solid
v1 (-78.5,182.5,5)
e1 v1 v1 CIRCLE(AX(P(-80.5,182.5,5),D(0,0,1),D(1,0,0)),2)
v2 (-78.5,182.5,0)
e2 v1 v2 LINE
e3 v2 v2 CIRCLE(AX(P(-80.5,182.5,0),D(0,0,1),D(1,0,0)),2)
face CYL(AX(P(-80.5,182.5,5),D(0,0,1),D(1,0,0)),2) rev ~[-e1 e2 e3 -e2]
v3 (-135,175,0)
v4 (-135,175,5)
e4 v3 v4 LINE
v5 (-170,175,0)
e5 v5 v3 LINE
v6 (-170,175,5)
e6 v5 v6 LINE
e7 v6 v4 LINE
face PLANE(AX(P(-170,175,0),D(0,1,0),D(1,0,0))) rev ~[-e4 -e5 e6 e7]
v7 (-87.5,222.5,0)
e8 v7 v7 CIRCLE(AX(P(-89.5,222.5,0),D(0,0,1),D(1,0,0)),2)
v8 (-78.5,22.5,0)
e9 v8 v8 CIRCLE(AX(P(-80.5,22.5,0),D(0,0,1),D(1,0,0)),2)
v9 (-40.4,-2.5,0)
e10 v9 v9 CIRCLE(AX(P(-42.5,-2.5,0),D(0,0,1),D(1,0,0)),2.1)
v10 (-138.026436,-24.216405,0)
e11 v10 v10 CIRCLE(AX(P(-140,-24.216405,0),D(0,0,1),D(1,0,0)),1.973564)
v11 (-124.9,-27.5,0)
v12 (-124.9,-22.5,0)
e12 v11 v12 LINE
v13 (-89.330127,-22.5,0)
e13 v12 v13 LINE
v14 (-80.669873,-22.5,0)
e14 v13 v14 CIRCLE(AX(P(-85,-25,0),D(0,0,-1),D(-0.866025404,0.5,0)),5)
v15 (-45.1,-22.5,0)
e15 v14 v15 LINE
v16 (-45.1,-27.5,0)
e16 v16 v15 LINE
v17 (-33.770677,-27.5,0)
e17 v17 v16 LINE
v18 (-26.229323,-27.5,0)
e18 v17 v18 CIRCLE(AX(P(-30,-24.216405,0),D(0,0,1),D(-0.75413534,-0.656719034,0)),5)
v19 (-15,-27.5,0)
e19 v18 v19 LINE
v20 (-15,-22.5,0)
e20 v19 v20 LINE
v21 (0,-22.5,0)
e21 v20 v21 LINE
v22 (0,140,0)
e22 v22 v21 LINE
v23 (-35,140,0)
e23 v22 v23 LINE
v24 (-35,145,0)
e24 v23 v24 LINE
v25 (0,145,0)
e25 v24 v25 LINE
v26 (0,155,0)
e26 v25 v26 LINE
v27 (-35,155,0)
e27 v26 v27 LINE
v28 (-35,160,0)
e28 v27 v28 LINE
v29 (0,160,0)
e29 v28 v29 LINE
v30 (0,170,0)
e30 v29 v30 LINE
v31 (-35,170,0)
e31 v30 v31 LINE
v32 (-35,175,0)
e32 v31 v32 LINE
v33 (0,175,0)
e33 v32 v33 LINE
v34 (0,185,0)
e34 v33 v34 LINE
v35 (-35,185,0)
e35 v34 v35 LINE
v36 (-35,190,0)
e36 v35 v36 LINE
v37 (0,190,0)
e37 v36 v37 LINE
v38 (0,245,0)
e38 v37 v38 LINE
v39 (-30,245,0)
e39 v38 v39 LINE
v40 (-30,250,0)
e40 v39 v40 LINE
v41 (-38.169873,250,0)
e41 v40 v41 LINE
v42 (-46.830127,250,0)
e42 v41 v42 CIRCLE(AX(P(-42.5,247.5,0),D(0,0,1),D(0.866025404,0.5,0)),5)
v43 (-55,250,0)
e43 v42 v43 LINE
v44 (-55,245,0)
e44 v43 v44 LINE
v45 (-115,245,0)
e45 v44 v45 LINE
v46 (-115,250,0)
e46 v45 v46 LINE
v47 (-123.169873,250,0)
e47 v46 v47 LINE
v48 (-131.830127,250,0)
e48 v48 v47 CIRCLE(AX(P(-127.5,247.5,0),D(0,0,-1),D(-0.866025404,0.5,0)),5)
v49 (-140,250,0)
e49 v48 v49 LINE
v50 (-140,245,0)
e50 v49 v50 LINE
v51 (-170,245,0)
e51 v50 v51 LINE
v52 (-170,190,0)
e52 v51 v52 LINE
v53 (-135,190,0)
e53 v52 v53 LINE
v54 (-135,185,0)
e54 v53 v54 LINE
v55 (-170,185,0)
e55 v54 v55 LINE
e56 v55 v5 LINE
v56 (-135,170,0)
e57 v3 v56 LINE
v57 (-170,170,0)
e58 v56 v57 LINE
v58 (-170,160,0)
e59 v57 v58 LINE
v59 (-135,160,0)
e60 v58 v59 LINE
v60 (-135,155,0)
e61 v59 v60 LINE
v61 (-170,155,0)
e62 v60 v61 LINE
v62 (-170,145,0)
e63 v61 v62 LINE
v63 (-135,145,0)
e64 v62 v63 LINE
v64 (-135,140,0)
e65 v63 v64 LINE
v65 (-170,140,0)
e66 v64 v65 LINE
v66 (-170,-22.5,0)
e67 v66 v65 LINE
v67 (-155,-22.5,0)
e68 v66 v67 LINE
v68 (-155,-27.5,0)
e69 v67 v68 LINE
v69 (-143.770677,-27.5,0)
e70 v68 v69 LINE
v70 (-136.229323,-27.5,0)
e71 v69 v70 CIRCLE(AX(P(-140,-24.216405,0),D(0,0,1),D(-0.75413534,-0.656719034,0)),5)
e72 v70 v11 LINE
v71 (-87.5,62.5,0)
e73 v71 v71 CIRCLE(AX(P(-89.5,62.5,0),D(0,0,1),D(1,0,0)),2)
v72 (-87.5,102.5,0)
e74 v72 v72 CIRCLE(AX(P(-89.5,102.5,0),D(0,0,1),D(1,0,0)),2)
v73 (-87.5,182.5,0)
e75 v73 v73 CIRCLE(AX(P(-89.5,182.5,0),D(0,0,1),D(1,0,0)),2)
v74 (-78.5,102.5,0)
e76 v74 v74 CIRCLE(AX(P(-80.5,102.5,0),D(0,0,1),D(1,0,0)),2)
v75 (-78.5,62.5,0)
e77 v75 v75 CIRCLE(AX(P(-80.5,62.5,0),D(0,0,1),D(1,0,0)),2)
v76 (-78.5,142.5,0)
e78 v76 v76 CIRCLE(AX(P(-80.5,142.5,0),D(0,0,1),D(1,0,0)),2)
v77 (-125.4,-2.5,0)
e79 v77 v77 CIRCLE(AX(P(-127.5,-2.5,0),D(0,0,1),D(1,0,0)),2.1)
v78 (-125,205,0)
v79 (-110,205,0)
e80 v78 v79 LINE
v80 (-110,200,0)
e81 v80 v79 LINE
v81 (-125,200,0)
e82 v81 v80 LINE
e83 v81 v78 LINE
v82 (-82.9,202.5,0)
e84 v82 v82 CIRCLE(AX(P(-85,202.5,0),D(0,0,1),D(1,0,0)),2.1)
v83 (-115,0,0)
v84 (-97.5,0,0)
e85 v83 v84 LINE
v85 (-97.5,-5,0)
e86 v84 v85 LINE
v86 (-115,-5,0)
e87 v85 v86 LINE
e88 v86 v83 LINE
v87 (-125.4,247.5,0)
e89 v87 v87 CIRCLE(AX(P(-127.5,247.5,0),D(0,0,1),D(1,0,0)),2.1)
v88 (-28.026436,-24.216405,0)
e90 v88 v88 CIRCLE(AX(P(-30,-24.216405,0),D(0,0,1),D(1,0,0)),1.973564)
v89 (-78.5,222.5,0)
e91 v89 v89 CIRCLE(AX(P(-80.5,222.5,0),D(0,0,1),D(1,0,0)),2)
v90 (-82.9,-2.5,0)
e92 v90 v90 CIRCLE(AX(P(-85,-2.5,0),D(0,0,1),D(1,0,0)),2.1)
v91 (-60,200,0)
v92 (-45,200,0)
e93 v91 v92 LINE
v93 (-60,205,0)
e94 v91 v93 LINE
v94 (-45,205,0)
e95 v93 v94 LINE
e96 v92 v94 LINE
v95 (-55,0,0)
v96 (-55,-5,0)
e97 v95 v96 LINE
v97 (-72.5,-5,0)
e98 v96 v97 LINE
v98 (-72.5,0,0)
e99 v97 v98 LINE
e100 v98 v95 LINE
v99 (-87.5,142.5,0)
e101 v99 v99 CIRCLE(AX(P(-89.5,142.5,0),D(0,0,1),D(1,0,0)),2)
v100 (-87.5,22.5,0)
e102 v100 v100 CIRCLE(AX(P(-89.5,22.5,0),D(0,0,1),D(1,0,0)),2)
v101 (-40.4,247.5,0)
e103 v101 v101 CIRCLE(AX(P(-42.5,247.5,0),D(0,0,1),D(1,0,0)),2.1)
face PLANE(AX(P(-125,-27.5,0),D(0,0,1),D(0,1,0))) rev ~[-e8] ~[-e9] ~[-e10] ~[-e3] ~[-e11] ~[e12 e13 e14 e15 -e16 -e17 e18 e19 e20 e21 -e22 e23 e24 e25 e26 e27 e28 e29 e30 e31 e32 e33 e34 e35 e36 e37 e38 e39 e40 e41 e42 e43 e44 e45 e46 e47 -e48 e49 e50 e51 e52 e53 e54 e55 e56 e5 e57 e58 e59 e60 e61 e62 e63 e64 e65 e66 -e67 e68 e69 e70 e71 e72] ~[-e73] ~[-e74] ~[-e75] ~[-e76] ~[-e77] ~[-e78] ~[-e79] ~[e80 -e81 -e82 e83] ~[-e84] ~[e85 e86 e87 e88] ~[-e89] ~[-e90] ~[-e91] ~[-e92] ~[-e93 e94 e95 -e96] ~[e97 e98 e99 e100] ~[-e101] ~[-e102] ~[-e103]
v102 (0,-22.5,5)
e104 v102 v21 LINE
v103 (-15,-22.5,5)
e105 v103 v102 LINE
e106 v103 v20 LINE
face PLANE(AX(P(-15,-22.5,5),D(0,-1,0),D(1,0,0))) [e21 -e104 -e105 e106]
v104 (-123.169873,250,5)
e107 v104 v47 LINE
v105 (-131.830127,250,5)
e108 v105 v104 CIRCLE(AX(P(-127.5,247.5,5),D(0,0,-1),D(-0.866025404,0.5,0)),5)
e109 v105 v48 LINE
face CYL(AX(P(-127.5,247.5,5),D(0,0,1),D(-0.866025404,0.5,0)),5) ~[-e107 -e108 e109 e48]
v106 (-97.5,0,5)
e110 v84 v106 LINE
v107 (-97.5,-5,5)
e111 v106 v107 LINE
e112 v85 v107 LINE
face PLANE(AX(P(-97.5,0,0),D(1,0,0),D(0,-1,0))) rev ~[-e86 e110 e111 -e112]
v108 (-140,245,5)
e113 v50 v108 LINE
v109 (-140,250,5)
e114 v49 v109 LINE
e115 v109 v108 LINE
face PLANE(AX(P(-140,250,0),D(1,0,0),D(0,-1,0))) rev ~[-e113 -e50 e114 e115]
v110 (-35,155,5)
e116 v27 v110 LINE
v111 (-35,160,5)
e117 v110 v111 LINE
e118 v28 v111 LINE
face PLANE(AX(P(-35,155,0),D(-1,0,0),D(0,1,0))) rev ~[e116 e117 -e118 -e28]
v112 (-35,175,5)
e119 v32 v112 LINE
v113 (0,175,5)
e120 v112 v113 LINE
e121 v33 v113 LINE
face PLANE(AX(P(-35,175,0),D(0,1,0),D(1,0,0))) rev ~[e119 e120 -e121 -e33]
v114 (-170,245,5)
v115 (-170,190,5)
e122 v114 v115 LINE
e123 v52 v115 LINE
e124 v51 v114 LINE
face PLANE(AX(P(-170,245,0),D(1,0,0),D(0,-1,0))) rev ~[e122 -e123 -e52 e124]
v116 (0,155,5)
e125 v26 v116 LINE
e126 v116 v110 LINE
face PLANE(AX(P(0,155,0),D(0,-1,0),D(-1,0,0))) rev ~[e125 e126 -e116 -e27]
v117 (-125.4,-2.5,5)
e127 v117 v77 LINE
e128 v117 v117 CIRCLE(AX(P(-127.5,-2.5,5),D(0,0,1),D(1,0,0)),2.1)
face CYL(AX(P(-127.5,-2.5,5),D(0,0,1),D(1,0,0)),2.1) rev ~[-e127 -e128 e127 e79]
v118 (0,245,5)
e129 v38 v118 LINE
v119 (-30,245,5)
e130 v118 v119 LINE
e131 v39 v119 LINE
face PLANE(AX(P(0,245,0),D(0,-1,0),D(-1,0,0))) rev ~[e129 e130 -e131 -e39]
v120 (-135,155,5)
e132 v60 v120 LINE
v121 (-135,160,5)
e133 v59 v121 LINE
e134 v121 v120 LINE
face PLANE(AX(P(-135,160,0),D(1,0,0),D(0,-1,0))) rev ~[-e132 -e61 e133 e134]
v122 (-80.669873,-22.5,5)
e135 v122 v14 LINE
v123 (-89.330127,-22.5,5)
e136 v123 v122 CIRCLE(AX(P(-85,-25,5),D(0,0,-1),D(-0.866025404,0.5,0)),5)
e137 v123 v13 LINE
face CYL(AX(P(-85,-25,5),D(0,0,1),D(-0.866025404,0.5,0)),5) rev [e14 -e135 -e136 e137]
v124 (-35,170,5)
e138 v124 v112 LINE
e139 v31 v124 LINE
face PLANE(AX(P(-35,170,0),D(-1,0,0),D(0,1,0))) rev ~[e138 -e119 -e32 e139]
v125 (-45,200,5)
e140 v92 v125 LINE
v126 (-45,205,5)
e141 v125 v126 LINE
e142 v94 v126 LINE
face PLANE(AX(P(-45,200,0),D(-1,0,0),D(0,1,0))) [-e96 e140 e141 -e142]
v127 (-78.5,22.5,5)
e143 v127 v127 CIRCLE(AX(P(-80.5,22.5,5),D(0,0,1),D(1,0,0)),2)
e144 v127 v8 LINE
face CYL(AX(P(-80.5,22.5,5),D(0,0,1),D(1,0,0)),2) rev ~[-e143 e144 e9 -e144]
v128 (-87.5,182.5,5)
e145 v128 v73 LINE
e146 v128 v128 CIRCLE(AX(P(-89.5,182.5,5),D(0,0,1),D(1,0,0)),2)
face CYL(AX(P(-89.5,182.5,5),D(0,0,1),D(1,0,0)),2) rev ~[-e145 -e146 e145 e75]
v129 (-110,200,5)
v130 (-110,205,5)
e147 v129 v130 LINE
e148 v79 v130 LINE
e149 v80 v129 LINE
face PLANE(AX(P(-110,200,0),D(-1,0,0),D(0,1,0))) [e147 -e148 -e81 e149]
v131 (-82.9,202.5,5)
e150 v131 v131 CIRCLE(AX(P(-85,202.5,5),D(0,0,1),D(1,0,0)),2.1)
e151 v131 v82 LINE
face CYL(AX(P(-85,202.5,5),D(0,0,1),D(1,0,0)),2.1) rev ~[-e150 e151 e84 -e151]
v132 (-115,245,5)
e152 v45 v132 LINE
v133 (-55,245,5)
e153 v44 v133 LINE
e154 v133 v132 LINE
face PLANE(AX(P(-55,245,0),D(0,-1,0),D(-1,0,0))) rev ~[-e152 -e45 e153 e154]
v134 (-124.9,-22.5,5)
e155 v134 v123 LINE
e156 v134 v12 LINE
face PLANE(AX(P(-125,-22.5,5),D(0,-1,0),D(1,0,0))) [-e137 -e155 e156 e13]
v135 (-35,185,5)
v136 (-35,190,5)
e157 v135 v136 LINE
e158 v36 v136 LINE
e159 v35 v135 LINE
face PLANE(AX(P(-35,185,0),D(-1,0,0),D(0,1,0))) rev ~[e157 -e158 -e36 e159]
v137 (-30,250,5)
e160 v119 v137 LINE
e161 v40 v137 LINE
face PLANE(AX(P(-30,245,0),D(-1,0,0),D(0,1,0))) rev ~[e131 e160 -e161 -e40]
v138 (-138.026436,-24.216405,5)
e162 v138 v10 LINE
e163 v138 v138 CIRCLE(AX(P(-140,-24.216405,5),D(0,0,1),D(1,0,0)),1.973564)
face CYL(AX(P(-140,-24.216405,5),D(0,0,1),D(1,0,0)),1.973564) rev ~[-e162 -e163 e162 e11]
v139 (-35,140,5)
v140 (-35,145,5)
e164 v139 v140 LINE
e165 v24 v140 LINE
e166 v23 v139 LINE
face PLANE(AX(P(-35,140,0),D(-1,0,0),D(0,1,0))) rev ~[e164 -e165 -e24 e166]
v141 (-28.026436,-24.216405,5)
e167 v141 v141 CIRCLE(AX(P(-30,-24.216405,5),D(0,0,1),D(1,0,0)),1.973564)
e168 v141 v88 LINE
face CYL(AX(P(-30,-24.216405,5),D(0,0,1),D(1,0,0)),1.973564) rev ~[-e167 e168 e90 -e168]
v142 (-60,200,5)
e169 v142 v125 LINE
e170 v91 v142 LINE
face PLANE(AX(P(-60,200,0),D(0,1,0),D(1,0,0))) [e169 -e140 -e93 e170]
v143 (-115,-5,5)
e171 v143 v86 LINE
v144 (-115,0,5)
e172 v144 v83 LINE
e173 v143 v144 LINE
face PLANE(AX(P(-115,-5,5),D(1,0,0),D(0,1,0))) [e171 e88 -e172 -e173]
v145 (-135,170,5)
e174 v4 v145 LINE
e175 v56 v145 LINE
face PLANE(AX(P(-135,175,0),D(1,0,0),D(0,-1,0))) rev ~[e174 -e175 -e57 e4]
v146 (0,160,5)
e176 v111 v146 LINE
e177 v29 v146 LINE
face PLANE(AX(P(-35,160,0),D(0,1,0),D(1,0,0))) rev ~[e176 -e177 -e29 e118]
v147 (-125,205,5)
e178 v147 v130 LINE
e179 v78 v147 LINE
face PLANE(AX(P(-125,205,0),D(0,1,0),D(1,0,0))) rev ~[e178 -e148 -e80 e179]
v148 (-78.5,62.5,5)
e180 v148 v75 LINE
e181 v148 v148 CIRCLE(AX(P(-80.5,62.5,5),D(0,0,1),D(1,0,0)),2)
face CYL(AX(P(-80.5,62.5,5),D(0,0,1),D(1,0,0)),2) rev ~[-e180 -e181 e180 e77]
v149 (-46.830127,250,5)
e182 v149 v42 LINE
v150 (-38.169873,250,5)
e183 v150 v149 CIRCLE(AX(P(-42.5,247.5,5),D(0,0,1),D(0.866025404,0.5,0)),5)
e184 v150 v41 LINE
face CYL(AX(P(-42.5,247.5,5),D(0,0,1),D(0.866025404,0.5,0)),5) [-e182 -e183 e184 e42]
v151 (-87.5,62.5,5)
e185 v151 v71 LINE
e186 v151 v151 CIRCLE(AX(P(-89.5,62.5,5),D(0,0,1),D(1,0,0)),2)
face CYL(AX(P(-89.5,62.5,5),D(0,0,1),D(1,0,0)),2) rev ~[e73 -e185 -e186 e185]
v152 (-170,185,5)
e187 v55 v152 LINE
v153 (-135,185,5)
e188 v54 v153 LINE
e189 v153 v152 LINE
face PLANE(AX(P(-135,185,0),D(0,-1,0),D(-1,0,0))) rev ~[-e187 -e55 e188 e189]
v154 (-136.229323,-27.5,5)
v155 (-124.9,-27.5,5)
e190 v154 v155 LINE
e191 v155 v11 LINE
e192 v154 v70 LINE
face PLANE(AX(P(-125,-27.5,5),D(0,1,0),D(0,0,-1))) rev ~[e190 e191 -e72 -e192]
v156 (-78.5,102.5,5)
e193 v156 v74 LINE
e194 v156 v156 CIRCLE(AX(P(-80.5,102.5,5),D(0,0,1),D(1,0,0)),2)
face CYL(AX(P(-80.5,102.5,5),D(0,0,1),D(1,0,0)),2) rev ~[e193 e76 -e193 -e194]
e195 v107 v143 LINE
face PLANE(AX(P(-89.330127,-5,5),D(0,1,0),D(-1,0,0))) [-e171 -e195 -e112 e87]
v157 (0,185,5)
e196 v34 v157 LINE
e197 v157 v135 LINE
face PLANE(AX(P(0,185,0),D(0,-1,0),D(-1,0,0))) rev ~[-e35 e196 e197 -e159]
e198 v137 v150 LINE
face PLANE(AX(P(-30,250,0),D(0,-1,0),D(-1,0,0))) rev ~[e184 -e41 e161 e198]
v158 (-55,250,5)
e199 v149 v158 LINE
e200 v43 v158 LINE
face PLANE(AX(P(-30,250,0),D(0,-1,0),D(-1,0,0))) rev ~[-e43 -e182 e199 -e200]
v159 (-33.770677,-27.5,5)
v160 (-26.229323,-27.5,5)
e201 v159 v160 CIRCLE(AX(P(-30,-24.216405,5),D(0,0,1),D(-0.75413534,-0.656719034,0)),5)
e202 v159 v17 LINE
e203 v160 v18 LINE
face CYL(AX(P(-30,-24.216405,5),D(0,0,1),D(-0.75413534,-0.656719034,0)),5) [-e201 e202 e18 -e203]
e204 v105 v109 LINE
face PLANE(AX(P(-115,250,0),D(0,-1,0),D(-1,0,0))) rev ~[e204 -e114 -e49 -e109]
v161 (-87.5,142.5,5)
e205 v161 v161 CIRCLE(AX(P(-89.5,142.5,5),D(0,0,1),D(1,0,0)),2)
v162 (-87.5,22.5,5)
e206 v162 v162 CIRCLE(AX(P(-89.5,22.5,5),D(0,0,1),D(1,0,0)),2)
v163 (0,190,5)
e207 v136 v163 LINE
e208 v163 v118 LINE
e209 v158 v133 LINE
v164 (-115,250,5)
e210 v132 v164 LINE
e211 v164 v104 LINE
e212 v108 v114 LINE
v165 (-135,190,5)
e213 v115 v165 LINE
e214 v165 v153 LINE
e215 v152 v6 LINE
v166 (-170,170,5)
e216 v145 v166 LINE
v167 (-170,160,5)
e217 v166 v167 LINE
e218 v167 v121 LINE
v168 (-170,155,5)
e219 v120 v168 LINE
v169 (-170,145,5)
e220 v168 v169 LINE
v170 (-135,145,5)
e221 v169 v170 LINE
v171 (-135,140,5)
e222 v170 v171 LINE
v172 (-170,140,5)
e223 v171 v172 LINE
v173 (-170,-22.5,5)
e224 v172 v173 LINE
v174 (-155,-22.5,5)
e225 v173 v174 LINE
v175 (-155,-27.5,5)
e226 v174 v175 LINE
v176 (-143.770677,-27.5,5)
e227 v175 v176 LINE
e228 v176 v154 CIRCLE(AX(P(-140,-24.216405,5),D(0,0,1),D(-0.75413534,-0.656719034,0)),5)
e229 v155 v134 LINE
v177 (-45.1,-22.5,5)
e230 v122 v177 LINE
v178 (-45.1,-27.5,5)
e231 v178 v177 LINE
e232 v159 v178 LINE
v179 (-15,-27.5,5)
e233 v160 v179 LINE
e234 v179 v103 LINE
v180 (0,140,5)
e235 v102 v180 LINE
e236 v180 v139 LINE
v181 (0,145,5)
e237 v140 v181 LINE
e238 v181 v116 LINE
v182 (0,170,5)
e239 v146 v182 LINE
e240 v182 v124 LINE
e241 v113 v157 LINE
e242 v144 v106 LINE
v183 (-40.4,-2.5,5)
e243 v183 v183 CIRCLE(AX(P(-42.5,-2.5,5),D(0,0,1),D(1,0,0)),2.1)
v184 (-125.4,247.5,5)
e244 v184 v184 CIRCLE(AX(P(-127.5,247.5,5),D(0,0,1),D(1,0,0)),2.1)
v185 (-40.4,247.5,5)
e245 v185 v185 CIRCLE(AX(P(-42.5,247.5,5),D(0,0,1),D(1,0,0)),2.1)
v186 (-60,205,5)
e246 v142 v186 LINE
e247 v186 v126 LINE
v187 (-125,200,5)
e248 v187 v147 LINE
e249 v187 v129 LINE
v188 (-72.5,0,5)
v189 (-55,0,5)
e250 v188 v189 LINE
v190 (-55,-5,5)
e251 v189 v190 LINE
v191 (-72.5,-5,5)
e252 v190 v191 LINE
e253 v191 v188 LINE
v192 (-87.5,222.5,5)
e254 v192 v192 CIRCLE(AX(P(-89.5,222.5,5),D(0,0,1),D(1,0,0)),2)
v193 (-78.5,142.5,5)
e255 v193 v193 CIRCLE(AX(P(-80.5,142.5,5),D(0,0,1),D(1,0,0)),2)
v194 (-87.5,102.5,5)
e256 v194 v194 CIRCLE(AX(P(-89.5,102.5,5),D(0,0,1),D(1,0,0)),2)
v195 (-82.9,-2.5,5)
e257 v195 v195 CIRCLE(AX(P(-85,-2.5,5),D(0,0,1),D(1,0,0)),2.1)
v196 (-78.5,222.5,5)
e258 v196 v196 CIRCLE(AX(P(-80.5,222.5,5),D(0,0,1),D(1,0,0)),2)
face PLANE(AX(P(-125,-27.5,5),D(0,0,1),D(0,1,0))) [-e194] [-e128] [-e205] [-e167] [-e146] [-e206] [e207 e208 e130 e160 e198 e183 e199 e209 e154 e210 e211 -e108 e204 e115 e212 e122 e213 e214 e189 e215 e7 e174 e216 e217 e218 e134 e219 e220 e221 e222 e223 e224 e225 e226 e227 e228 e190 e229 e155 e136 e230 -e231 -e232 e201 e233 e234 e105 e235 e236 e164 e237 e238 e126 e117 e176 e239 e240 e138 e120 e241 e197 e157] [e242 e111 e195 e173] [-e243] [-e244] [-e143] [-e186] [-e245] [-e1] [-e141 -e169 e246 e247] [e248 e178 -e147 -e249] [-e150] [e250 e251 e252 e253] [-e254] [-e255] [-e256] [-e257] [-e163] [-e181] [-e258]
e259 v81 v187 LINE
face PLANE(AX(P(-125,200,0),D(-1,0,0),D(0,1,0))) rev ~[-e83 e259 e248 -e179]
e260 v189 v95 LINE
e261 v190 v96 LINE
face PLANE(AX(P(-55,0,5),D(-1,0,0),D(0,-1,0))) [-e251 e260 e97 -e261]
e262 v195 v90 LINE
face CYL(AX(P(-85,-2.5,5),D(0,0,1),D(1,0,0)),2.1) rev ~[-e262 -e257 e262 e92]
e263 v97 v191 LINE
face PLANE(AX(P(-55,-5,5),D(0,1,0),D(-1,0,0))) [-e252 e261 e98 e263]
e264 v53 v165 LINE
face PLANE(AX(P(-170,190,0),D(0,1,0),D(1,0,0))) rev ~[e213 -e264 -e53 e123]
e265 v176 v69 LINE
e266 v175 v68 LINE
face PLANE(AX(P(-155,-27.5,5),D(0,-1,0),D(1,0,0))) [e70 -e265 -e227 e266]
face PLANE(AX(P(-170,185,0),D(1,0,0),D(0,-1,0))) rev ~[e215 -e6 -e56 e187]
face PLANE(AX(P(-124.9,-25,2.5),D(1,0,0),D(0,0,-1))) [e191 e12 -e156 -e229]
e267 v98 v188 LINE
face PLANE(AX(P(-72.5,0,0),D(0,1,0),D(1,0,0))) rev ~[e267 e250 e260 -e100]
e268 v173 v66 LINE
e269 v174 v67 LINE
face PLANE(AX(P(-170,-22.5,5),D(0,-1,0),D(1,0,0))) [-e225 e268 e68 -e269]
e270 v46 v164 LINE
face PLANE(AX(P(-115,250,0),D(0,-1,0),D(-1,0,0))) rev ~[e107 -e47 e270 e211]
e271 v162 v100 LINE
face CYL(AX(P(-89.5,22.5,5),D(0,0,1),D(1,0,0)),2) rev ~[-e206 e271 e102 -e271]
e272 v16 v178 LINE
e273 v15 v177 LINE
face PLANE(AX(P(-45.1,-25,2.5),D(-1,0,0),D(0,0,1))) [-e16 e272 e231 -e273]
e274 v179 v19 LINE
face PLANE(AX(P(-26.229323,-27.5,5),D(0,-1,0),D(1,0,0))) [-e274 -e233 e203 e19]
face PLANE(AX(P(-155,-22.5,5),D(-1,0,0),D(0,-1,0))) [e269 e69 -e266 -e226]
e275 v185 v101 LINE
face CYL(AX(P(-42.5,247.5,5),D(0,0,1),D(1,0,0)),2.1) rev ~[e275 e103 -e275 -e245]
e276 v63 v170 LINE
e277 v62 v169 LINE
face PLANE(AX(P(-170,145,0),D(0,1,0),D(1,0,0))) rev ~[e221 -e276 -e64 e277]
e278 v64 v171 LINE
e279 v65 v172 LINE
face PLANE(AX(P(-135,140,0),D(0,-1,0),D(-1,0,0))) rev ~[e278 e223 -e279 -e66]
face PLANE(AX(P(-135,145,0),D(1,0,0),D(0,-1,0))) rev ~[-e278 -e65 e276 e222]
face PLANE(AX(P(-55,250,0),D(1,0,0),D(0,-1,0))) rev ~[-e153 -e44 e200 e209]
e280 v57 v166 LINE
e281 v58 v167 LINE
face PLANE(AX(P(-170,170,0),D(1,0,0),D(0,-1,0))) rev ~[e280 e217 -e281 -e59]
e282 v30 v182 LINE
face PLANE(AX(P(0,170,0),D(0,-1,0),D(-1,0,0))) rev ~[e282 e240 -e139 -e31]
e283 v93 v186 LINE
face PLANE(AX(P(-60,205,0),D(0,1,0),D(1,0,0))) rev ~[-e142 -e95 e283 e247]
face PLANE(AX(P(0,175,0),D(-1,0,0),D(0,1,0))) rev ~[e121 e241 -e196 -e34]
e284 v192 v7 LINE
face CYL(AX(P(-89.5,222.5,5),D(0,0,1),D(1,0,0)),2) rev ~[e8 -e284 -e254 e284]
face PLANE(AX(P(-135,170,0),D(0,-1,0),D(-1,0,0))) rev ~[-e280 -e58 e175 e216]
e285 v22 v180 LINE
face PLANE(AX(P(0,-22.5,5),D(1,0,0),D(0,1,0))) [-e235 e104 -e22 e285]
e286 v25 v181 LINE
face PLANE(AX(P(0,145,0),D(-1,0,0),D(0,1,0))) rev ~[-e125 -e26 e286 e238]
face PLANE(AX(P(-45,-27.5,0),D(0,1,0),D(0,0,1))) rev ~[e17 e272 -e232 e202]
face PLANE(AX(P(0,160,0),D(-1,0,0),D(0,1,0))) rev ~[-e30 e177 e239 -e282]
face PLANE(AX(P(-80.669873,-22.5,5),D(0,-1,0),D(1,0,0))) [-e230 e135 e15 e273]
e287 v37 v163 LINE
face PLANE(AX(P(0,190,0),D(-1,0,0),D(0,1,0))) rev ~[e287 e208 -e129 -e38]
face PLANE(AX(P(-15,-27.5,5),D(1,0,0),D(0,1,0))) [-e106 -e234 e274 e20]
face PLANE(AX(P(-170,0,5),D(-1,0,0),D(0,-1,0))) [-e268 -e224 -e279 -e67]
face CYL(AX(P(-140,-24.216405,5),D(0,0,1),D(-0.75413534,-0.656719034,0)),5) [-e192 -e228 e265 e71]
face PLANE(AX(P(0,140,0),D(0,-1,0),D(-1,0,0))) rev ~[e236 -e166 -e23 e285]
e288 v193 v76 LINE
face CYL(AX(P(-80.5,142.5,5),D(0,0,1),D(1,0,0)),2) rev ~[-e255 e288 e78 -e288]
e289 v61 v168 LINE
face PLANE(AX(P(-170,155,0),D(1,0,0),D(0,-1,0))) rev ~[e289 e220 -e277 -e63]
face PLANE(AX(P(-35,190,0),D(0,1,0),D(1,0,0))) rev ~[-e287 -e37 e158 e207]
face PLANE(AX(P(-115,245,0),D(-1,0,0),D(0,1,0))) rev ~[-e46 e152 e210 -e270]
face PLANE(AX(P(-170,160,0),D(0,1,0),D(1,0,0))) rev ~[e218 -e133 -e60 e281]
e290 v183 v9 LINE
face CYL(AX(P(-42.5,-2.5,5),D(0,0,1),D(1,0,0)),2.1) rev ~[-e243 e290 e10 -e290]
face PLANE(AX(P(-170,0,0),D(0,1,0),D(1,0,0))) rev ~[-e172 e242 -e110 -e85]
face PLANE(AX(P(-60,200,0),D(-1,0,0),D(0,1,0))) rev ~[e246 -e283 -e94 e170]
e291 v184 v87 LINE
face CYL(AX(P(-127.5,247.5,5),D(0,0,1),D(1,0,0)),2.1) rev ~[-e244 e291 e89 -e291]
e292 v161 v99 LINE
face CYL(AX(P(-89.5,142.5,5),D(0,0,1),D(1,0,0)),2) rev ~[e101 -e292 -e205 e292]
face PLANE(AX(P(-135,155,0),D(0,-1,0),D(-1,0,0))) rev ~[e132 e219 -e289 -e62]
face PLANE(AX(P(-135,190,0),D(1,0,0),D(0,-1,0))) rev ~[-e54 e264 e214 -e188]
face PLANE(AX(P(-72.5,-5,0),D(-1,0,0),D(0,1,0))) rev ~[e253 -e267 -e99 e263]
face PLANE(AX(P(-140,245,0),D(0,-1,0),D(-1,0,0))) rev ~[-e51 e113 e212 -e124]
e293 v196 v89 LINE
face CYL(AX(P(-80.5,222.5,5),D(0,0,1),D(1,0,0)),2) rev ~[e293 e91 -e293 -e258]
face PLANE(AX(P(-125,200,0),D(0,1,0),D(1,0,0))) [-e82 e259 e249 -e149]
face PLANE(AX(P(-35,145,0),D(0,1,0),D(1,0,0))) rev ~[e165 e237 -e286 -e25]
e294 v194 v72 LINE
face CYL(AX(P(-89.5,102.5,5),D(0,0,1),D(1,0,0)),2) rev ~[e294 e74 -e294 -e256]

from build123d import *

# Parameters (mm, degrees)
SKETCH1_W           = 15
SKETCH1_H           = 5
BOSS_EXTRUDE1_DEPTH = 5
CUT_EXTRUDE1_DEPTH  = 5
SKETCH3_R           = 2.1
CUT_EXTRUDE2_DEPTH  = 5
BOSS_EXTRUDE2_DEPTH = 5
SKETCH5_R           = 2.1
CUT_EXTRUDE3_DEPTH  = 5
SKETCH7_R           = 2.1
SKETCH7_R_2         = 1.973564221
BOSS_EXTRUDE3_DEPTH = 5
SKETCH8_R           = 2.1
CUT_EXTRUDE5_DEPTH  = 5
BOSS_EXTRUDE4_DEPTH = 5
SKETCH10_R          = 2
CUT_EXTRUDE6_DEPTH  = 10
SKETCH11_W          = 5
SKETCH11_H          = 5
BOSS_EXTRUDE5_DEPTH = 0.1
SKETCH12_W          = 5
SKETCH12_H          = 5
BOSS_EXTRUDE6_DEPTH = 0.1


with BuildPart() as part:
    # Sketch1 → Boss-Extrude1 (new body)
    with BuildSketch(Plane.XY):
        Polygon((-72.5, 0), (0, 0), (0, 140), (-35, 140), (-35, 145), (0, 145), (0, 155), (-35, 155), (-35, 160), (0, 160), (0, 170), (-35, 170), (-35, 175), (0, 175), (0, 185), (-35, 185), (-35, 190), (0, 190), (0, 245), (-30, 245), (-30, 250), (-55, 250), (-55, 245), (-115, 245), (-115, 250), (-140, 250), (-140, 245), (-170, 245), (-170, 190), (-135, 190), (-135, 185), (-170, 185), (-170, 175), (-135, 175), (-135, 170), (-170, 170), (-170, 160), (-135, 160), (-135, 155), (-170, 155), (-170, 145), (-135, 145), (-135, 140), (-170, 140), (-170, 0), (-97.5, 0), (-97.5, -5), (-72.5, -5), align=None)
        with Locations((-117.5, 202.5)):
            Rectangle(SKETCH1_W, SKETCH1_H, mode=Mode.SUBTRACT)
        with Locations((-52.5, 202.5)):
            Rectangle(SKETCH1_W, SKETCH1_H, mode=Mode.SUBTRACT)
    extrude(amount=BOSS_EXTRUDE1_DEPTH)

    # Sketch2 → Cut-Extrude1 (cut)
    with BuildSketch(Plane.XY.offset(5)):
        with BuildLine():
            Line((-123.169872981, 0), (-131.830127019, 0))
            ThreePointArc((-131.830127019, 0), (-127.5, 2.5), (-123.169872981, 0))
        make_face()
        with BuildLine():
            Line((-46.830127019, 0), (-38.169872981, 0))
            ThreePointArc((-38.169872981, 0), (-42.5, 2.5), (-46.830127019, 0))
        make_face()
    extrude(amount=-CUT_EXTRUDE1_DEPTH, mode=Mode.SUBTRACT)

    # Sketch3 → Cut-Extrude2 (cut)
    with BuildSketch(Plane.XY.offset(5)):
        with Locations((-85, -2.5)):
            Circle(SKETCH3_R)
    extrude(amount=-CUT_EXTRUDE2_DEPTH, mode=Mode.SUBTRACT)

    # Sketch4 → Boss-Extrude2 (add)
    with BuildSketch(Plane.XY.offset(5)):
        with BuildLine():
            Line((-89.330127019, -5), (-80.669872981, -5))
            ThreePointArc((-80.669872981, -5), (-85, -7.5), (-89.330127019, -5))
        make_face()
    extrude(amount=-BOSS_EXTRUDE2_DEPTH)

    # Sketch5 → Cut-Extrude3 (cut)
    with BuildSketch(Plane.XY.offset(5)):
        with Locations((-85, 202.5)):
            Circle(SKETCH5_R)
    extrude(amount=-CUT_EXTRUDE3_DEPTH, mode=Mode.SUBTRACT)

    # Sketch7 → Boss-Extrude3 (add)
    with BuildSketch(Plane.XY.offset(5)):
        with BuildLine():
            Line((-55, 0), (-55, -5))
            Line((-55, -5), (-80.669872981, -5))
            ThreePointArc((-80.669872981, -5), (-85, -7.5), (-89.330127019, -5))
            Line((-89.330127019, -5), (-115, -5))
            Line((-115, -5), (-115, 0))
            Line((-115, 0), (-123.169872981, 0))
            ThreePointArc((-123.169872981, 0), (-127.5, 2.5), (-131.830127019, 0))
            Line((-131.830127019, 0), (-170, 0))
            Line((-170, 0), (-170, -22.5))
            Line((-170, -22.5), (-155, -22.5))
            Line((-155, -22.5), (-155, -27.5))
            Line((-155, -27.5), (-143.770676698, -27.5))
            ThreePointArc((-143.770676698, -27.5), (-140, -29.21640483), (-136.229323302, -27.5))
            Line((-136.229323302, -27.5), (-125, -27.5))
            Line((-125, -27.5), (-125, -22.5))
            Line((-125, -22.5), (-89.330127019, -22.5))
            ThreePointArc((-89.330127019, -22.5), (-85, -20), (-80.669872981, -22.5))
            Line((-80.669872981, -22.5), (-45, -22.5))
            Line((-45, -22.5), (-45, -27.5))
            Line((-45, -27.5), (-33.770676698, -27.5))
            ThreePointArc((-33.770676698, -27.5), (-30, -29.21640483), (-26.229323302, -27.5))
            Line((-26.229323302, -27.5), (-15, -27.5))
            Line((-15, -27.5), (-15, -22.5))
            Line((-15, -22.5), (0, -22.5))
            Line((0, -22.5), (0, 0))
            Line((0, 0), (-38.169872981, 0))
            ThreePointArc((-38.169872981, 0), (-42.5, 2.5), (-46.830127019, 0))
            Line((-46.830127019, 0), (-55, 0))
        make_face()
        with Locations((-42.5, -2.5)):
            Circle(SKETCH7_R, mode=Mode.SUBTRACT)
        with Locations((-30, -24.21640483)):
            Circle(SKETCH7_R_2, mode=Mode.SUBTRACT)
        with Locations((-140, -24.21640483)):
            Circle(SKETCH7_R_2, mode=Mode.SUBTRACT)
        with Locations((-127.5, -2.5)):
            Circle(SKETCH7_R, mode=Mode.SUBTRACT)
    extrude(amount=-BOSS_EXTRUDE3_DEPTH)

    # Sketch8 → Cut-Extrude5 (cut)
    with BuildSketch(Plane.XY.offset(5)):
        with Locations((-42.5, 247.5)):
            Circle(SKETCH8_R)
        with Locations((-127.5, 247.5)):
            Circle(SKETCH8_R)
    extrude(amount=-CUT_EXTRUDE5_DEPTH, mode=Mode.SUBTRACT)

    # Sketch9 → Boss-Extrude4 (add)
    with BuildSketch(Plane.XY.offset(5)):
        with BuildLine():
            Line((-46.830127019, 250), (-38.169872981, 250))
            ThreePointArc((-38.169872981, 250), (-42.5, 252.5), (-46.830127019, 250))
        make_face()
        with BuildLine():
            Line((-123.169872981, 250), (-131.830127019, 250))
            ThreePointArc((-131.830127019, 250), (-127.5, 252.5), (-123.169872981, 250))
        make_face()
    extrude(amount=-BOSS_EXTRUDE4_DEPTH)

    # Sketch10 → Cut-Extrude6 (cut)
    with BuildSketch(Plane.XY.offset(5)):
        with Locations((-80.5, 22.5)):
            Circle(SKETCH10_R)
        with Locations((-80.5, 62.5)):
            Circle(SKETCH10_R)
        with Locations((-80.5, 102.5)):
            Circle(SKETCH10_R)
        with Locations((-80.5, 142.5)):
            Circle(SKETCH10_R)
        with Locations((-80.5, 182.5)):
            Circle(SKETCH10_R)
        with Locations((-80.5, 222.5)):
            Circle(SKETCH10_R)
        with Locations((-89.5, 222.5)):
            Circle(SKETCH10_R)
        with Locations((-89.5, 182.5)):
            Circle(SKETCH10_R)
        with Locations((-89.5, 142.5)):
            Circle(SKETCH10_R)
        with Locations((-89.5, 102.5)):
            Circle(SKETCH10_R)
        with Locations((-89.5, 62.5)):
            Circle(SKETCH10_R)
        with Locations((-89.5, 22.5)):
            Circle(SKETCH10_R)
    extrude(amount=-CUT_EXTRUDE6_DEPTH, mode=Mode.SUBTRACT)

    # Sketch11 → Boss-Extrude5 (add)
    with BuildSketch(Plane.ZY.offset(45)):
        with Locations((2.5, -25)):
            Rectangle(SKETCH11_W, SKETCH11_H)
    extrude(amount=BOSS_EXTRUDE5_DEPTH)

    # Sketch12 → Boss-Extrude6 (add)
    with BuildSketch(Plane(origin=(-125, 0, 0), x_dir=(0, 0, -1), z_dir=(1, 0, 0))):
        with Locations((-2.5, -25)):
            Rectangle(SKETCH12_W, SKETCH12_H)
    extrude(amount=BOSS_EXTRUDE6_DEPTH)


solid = part.part
